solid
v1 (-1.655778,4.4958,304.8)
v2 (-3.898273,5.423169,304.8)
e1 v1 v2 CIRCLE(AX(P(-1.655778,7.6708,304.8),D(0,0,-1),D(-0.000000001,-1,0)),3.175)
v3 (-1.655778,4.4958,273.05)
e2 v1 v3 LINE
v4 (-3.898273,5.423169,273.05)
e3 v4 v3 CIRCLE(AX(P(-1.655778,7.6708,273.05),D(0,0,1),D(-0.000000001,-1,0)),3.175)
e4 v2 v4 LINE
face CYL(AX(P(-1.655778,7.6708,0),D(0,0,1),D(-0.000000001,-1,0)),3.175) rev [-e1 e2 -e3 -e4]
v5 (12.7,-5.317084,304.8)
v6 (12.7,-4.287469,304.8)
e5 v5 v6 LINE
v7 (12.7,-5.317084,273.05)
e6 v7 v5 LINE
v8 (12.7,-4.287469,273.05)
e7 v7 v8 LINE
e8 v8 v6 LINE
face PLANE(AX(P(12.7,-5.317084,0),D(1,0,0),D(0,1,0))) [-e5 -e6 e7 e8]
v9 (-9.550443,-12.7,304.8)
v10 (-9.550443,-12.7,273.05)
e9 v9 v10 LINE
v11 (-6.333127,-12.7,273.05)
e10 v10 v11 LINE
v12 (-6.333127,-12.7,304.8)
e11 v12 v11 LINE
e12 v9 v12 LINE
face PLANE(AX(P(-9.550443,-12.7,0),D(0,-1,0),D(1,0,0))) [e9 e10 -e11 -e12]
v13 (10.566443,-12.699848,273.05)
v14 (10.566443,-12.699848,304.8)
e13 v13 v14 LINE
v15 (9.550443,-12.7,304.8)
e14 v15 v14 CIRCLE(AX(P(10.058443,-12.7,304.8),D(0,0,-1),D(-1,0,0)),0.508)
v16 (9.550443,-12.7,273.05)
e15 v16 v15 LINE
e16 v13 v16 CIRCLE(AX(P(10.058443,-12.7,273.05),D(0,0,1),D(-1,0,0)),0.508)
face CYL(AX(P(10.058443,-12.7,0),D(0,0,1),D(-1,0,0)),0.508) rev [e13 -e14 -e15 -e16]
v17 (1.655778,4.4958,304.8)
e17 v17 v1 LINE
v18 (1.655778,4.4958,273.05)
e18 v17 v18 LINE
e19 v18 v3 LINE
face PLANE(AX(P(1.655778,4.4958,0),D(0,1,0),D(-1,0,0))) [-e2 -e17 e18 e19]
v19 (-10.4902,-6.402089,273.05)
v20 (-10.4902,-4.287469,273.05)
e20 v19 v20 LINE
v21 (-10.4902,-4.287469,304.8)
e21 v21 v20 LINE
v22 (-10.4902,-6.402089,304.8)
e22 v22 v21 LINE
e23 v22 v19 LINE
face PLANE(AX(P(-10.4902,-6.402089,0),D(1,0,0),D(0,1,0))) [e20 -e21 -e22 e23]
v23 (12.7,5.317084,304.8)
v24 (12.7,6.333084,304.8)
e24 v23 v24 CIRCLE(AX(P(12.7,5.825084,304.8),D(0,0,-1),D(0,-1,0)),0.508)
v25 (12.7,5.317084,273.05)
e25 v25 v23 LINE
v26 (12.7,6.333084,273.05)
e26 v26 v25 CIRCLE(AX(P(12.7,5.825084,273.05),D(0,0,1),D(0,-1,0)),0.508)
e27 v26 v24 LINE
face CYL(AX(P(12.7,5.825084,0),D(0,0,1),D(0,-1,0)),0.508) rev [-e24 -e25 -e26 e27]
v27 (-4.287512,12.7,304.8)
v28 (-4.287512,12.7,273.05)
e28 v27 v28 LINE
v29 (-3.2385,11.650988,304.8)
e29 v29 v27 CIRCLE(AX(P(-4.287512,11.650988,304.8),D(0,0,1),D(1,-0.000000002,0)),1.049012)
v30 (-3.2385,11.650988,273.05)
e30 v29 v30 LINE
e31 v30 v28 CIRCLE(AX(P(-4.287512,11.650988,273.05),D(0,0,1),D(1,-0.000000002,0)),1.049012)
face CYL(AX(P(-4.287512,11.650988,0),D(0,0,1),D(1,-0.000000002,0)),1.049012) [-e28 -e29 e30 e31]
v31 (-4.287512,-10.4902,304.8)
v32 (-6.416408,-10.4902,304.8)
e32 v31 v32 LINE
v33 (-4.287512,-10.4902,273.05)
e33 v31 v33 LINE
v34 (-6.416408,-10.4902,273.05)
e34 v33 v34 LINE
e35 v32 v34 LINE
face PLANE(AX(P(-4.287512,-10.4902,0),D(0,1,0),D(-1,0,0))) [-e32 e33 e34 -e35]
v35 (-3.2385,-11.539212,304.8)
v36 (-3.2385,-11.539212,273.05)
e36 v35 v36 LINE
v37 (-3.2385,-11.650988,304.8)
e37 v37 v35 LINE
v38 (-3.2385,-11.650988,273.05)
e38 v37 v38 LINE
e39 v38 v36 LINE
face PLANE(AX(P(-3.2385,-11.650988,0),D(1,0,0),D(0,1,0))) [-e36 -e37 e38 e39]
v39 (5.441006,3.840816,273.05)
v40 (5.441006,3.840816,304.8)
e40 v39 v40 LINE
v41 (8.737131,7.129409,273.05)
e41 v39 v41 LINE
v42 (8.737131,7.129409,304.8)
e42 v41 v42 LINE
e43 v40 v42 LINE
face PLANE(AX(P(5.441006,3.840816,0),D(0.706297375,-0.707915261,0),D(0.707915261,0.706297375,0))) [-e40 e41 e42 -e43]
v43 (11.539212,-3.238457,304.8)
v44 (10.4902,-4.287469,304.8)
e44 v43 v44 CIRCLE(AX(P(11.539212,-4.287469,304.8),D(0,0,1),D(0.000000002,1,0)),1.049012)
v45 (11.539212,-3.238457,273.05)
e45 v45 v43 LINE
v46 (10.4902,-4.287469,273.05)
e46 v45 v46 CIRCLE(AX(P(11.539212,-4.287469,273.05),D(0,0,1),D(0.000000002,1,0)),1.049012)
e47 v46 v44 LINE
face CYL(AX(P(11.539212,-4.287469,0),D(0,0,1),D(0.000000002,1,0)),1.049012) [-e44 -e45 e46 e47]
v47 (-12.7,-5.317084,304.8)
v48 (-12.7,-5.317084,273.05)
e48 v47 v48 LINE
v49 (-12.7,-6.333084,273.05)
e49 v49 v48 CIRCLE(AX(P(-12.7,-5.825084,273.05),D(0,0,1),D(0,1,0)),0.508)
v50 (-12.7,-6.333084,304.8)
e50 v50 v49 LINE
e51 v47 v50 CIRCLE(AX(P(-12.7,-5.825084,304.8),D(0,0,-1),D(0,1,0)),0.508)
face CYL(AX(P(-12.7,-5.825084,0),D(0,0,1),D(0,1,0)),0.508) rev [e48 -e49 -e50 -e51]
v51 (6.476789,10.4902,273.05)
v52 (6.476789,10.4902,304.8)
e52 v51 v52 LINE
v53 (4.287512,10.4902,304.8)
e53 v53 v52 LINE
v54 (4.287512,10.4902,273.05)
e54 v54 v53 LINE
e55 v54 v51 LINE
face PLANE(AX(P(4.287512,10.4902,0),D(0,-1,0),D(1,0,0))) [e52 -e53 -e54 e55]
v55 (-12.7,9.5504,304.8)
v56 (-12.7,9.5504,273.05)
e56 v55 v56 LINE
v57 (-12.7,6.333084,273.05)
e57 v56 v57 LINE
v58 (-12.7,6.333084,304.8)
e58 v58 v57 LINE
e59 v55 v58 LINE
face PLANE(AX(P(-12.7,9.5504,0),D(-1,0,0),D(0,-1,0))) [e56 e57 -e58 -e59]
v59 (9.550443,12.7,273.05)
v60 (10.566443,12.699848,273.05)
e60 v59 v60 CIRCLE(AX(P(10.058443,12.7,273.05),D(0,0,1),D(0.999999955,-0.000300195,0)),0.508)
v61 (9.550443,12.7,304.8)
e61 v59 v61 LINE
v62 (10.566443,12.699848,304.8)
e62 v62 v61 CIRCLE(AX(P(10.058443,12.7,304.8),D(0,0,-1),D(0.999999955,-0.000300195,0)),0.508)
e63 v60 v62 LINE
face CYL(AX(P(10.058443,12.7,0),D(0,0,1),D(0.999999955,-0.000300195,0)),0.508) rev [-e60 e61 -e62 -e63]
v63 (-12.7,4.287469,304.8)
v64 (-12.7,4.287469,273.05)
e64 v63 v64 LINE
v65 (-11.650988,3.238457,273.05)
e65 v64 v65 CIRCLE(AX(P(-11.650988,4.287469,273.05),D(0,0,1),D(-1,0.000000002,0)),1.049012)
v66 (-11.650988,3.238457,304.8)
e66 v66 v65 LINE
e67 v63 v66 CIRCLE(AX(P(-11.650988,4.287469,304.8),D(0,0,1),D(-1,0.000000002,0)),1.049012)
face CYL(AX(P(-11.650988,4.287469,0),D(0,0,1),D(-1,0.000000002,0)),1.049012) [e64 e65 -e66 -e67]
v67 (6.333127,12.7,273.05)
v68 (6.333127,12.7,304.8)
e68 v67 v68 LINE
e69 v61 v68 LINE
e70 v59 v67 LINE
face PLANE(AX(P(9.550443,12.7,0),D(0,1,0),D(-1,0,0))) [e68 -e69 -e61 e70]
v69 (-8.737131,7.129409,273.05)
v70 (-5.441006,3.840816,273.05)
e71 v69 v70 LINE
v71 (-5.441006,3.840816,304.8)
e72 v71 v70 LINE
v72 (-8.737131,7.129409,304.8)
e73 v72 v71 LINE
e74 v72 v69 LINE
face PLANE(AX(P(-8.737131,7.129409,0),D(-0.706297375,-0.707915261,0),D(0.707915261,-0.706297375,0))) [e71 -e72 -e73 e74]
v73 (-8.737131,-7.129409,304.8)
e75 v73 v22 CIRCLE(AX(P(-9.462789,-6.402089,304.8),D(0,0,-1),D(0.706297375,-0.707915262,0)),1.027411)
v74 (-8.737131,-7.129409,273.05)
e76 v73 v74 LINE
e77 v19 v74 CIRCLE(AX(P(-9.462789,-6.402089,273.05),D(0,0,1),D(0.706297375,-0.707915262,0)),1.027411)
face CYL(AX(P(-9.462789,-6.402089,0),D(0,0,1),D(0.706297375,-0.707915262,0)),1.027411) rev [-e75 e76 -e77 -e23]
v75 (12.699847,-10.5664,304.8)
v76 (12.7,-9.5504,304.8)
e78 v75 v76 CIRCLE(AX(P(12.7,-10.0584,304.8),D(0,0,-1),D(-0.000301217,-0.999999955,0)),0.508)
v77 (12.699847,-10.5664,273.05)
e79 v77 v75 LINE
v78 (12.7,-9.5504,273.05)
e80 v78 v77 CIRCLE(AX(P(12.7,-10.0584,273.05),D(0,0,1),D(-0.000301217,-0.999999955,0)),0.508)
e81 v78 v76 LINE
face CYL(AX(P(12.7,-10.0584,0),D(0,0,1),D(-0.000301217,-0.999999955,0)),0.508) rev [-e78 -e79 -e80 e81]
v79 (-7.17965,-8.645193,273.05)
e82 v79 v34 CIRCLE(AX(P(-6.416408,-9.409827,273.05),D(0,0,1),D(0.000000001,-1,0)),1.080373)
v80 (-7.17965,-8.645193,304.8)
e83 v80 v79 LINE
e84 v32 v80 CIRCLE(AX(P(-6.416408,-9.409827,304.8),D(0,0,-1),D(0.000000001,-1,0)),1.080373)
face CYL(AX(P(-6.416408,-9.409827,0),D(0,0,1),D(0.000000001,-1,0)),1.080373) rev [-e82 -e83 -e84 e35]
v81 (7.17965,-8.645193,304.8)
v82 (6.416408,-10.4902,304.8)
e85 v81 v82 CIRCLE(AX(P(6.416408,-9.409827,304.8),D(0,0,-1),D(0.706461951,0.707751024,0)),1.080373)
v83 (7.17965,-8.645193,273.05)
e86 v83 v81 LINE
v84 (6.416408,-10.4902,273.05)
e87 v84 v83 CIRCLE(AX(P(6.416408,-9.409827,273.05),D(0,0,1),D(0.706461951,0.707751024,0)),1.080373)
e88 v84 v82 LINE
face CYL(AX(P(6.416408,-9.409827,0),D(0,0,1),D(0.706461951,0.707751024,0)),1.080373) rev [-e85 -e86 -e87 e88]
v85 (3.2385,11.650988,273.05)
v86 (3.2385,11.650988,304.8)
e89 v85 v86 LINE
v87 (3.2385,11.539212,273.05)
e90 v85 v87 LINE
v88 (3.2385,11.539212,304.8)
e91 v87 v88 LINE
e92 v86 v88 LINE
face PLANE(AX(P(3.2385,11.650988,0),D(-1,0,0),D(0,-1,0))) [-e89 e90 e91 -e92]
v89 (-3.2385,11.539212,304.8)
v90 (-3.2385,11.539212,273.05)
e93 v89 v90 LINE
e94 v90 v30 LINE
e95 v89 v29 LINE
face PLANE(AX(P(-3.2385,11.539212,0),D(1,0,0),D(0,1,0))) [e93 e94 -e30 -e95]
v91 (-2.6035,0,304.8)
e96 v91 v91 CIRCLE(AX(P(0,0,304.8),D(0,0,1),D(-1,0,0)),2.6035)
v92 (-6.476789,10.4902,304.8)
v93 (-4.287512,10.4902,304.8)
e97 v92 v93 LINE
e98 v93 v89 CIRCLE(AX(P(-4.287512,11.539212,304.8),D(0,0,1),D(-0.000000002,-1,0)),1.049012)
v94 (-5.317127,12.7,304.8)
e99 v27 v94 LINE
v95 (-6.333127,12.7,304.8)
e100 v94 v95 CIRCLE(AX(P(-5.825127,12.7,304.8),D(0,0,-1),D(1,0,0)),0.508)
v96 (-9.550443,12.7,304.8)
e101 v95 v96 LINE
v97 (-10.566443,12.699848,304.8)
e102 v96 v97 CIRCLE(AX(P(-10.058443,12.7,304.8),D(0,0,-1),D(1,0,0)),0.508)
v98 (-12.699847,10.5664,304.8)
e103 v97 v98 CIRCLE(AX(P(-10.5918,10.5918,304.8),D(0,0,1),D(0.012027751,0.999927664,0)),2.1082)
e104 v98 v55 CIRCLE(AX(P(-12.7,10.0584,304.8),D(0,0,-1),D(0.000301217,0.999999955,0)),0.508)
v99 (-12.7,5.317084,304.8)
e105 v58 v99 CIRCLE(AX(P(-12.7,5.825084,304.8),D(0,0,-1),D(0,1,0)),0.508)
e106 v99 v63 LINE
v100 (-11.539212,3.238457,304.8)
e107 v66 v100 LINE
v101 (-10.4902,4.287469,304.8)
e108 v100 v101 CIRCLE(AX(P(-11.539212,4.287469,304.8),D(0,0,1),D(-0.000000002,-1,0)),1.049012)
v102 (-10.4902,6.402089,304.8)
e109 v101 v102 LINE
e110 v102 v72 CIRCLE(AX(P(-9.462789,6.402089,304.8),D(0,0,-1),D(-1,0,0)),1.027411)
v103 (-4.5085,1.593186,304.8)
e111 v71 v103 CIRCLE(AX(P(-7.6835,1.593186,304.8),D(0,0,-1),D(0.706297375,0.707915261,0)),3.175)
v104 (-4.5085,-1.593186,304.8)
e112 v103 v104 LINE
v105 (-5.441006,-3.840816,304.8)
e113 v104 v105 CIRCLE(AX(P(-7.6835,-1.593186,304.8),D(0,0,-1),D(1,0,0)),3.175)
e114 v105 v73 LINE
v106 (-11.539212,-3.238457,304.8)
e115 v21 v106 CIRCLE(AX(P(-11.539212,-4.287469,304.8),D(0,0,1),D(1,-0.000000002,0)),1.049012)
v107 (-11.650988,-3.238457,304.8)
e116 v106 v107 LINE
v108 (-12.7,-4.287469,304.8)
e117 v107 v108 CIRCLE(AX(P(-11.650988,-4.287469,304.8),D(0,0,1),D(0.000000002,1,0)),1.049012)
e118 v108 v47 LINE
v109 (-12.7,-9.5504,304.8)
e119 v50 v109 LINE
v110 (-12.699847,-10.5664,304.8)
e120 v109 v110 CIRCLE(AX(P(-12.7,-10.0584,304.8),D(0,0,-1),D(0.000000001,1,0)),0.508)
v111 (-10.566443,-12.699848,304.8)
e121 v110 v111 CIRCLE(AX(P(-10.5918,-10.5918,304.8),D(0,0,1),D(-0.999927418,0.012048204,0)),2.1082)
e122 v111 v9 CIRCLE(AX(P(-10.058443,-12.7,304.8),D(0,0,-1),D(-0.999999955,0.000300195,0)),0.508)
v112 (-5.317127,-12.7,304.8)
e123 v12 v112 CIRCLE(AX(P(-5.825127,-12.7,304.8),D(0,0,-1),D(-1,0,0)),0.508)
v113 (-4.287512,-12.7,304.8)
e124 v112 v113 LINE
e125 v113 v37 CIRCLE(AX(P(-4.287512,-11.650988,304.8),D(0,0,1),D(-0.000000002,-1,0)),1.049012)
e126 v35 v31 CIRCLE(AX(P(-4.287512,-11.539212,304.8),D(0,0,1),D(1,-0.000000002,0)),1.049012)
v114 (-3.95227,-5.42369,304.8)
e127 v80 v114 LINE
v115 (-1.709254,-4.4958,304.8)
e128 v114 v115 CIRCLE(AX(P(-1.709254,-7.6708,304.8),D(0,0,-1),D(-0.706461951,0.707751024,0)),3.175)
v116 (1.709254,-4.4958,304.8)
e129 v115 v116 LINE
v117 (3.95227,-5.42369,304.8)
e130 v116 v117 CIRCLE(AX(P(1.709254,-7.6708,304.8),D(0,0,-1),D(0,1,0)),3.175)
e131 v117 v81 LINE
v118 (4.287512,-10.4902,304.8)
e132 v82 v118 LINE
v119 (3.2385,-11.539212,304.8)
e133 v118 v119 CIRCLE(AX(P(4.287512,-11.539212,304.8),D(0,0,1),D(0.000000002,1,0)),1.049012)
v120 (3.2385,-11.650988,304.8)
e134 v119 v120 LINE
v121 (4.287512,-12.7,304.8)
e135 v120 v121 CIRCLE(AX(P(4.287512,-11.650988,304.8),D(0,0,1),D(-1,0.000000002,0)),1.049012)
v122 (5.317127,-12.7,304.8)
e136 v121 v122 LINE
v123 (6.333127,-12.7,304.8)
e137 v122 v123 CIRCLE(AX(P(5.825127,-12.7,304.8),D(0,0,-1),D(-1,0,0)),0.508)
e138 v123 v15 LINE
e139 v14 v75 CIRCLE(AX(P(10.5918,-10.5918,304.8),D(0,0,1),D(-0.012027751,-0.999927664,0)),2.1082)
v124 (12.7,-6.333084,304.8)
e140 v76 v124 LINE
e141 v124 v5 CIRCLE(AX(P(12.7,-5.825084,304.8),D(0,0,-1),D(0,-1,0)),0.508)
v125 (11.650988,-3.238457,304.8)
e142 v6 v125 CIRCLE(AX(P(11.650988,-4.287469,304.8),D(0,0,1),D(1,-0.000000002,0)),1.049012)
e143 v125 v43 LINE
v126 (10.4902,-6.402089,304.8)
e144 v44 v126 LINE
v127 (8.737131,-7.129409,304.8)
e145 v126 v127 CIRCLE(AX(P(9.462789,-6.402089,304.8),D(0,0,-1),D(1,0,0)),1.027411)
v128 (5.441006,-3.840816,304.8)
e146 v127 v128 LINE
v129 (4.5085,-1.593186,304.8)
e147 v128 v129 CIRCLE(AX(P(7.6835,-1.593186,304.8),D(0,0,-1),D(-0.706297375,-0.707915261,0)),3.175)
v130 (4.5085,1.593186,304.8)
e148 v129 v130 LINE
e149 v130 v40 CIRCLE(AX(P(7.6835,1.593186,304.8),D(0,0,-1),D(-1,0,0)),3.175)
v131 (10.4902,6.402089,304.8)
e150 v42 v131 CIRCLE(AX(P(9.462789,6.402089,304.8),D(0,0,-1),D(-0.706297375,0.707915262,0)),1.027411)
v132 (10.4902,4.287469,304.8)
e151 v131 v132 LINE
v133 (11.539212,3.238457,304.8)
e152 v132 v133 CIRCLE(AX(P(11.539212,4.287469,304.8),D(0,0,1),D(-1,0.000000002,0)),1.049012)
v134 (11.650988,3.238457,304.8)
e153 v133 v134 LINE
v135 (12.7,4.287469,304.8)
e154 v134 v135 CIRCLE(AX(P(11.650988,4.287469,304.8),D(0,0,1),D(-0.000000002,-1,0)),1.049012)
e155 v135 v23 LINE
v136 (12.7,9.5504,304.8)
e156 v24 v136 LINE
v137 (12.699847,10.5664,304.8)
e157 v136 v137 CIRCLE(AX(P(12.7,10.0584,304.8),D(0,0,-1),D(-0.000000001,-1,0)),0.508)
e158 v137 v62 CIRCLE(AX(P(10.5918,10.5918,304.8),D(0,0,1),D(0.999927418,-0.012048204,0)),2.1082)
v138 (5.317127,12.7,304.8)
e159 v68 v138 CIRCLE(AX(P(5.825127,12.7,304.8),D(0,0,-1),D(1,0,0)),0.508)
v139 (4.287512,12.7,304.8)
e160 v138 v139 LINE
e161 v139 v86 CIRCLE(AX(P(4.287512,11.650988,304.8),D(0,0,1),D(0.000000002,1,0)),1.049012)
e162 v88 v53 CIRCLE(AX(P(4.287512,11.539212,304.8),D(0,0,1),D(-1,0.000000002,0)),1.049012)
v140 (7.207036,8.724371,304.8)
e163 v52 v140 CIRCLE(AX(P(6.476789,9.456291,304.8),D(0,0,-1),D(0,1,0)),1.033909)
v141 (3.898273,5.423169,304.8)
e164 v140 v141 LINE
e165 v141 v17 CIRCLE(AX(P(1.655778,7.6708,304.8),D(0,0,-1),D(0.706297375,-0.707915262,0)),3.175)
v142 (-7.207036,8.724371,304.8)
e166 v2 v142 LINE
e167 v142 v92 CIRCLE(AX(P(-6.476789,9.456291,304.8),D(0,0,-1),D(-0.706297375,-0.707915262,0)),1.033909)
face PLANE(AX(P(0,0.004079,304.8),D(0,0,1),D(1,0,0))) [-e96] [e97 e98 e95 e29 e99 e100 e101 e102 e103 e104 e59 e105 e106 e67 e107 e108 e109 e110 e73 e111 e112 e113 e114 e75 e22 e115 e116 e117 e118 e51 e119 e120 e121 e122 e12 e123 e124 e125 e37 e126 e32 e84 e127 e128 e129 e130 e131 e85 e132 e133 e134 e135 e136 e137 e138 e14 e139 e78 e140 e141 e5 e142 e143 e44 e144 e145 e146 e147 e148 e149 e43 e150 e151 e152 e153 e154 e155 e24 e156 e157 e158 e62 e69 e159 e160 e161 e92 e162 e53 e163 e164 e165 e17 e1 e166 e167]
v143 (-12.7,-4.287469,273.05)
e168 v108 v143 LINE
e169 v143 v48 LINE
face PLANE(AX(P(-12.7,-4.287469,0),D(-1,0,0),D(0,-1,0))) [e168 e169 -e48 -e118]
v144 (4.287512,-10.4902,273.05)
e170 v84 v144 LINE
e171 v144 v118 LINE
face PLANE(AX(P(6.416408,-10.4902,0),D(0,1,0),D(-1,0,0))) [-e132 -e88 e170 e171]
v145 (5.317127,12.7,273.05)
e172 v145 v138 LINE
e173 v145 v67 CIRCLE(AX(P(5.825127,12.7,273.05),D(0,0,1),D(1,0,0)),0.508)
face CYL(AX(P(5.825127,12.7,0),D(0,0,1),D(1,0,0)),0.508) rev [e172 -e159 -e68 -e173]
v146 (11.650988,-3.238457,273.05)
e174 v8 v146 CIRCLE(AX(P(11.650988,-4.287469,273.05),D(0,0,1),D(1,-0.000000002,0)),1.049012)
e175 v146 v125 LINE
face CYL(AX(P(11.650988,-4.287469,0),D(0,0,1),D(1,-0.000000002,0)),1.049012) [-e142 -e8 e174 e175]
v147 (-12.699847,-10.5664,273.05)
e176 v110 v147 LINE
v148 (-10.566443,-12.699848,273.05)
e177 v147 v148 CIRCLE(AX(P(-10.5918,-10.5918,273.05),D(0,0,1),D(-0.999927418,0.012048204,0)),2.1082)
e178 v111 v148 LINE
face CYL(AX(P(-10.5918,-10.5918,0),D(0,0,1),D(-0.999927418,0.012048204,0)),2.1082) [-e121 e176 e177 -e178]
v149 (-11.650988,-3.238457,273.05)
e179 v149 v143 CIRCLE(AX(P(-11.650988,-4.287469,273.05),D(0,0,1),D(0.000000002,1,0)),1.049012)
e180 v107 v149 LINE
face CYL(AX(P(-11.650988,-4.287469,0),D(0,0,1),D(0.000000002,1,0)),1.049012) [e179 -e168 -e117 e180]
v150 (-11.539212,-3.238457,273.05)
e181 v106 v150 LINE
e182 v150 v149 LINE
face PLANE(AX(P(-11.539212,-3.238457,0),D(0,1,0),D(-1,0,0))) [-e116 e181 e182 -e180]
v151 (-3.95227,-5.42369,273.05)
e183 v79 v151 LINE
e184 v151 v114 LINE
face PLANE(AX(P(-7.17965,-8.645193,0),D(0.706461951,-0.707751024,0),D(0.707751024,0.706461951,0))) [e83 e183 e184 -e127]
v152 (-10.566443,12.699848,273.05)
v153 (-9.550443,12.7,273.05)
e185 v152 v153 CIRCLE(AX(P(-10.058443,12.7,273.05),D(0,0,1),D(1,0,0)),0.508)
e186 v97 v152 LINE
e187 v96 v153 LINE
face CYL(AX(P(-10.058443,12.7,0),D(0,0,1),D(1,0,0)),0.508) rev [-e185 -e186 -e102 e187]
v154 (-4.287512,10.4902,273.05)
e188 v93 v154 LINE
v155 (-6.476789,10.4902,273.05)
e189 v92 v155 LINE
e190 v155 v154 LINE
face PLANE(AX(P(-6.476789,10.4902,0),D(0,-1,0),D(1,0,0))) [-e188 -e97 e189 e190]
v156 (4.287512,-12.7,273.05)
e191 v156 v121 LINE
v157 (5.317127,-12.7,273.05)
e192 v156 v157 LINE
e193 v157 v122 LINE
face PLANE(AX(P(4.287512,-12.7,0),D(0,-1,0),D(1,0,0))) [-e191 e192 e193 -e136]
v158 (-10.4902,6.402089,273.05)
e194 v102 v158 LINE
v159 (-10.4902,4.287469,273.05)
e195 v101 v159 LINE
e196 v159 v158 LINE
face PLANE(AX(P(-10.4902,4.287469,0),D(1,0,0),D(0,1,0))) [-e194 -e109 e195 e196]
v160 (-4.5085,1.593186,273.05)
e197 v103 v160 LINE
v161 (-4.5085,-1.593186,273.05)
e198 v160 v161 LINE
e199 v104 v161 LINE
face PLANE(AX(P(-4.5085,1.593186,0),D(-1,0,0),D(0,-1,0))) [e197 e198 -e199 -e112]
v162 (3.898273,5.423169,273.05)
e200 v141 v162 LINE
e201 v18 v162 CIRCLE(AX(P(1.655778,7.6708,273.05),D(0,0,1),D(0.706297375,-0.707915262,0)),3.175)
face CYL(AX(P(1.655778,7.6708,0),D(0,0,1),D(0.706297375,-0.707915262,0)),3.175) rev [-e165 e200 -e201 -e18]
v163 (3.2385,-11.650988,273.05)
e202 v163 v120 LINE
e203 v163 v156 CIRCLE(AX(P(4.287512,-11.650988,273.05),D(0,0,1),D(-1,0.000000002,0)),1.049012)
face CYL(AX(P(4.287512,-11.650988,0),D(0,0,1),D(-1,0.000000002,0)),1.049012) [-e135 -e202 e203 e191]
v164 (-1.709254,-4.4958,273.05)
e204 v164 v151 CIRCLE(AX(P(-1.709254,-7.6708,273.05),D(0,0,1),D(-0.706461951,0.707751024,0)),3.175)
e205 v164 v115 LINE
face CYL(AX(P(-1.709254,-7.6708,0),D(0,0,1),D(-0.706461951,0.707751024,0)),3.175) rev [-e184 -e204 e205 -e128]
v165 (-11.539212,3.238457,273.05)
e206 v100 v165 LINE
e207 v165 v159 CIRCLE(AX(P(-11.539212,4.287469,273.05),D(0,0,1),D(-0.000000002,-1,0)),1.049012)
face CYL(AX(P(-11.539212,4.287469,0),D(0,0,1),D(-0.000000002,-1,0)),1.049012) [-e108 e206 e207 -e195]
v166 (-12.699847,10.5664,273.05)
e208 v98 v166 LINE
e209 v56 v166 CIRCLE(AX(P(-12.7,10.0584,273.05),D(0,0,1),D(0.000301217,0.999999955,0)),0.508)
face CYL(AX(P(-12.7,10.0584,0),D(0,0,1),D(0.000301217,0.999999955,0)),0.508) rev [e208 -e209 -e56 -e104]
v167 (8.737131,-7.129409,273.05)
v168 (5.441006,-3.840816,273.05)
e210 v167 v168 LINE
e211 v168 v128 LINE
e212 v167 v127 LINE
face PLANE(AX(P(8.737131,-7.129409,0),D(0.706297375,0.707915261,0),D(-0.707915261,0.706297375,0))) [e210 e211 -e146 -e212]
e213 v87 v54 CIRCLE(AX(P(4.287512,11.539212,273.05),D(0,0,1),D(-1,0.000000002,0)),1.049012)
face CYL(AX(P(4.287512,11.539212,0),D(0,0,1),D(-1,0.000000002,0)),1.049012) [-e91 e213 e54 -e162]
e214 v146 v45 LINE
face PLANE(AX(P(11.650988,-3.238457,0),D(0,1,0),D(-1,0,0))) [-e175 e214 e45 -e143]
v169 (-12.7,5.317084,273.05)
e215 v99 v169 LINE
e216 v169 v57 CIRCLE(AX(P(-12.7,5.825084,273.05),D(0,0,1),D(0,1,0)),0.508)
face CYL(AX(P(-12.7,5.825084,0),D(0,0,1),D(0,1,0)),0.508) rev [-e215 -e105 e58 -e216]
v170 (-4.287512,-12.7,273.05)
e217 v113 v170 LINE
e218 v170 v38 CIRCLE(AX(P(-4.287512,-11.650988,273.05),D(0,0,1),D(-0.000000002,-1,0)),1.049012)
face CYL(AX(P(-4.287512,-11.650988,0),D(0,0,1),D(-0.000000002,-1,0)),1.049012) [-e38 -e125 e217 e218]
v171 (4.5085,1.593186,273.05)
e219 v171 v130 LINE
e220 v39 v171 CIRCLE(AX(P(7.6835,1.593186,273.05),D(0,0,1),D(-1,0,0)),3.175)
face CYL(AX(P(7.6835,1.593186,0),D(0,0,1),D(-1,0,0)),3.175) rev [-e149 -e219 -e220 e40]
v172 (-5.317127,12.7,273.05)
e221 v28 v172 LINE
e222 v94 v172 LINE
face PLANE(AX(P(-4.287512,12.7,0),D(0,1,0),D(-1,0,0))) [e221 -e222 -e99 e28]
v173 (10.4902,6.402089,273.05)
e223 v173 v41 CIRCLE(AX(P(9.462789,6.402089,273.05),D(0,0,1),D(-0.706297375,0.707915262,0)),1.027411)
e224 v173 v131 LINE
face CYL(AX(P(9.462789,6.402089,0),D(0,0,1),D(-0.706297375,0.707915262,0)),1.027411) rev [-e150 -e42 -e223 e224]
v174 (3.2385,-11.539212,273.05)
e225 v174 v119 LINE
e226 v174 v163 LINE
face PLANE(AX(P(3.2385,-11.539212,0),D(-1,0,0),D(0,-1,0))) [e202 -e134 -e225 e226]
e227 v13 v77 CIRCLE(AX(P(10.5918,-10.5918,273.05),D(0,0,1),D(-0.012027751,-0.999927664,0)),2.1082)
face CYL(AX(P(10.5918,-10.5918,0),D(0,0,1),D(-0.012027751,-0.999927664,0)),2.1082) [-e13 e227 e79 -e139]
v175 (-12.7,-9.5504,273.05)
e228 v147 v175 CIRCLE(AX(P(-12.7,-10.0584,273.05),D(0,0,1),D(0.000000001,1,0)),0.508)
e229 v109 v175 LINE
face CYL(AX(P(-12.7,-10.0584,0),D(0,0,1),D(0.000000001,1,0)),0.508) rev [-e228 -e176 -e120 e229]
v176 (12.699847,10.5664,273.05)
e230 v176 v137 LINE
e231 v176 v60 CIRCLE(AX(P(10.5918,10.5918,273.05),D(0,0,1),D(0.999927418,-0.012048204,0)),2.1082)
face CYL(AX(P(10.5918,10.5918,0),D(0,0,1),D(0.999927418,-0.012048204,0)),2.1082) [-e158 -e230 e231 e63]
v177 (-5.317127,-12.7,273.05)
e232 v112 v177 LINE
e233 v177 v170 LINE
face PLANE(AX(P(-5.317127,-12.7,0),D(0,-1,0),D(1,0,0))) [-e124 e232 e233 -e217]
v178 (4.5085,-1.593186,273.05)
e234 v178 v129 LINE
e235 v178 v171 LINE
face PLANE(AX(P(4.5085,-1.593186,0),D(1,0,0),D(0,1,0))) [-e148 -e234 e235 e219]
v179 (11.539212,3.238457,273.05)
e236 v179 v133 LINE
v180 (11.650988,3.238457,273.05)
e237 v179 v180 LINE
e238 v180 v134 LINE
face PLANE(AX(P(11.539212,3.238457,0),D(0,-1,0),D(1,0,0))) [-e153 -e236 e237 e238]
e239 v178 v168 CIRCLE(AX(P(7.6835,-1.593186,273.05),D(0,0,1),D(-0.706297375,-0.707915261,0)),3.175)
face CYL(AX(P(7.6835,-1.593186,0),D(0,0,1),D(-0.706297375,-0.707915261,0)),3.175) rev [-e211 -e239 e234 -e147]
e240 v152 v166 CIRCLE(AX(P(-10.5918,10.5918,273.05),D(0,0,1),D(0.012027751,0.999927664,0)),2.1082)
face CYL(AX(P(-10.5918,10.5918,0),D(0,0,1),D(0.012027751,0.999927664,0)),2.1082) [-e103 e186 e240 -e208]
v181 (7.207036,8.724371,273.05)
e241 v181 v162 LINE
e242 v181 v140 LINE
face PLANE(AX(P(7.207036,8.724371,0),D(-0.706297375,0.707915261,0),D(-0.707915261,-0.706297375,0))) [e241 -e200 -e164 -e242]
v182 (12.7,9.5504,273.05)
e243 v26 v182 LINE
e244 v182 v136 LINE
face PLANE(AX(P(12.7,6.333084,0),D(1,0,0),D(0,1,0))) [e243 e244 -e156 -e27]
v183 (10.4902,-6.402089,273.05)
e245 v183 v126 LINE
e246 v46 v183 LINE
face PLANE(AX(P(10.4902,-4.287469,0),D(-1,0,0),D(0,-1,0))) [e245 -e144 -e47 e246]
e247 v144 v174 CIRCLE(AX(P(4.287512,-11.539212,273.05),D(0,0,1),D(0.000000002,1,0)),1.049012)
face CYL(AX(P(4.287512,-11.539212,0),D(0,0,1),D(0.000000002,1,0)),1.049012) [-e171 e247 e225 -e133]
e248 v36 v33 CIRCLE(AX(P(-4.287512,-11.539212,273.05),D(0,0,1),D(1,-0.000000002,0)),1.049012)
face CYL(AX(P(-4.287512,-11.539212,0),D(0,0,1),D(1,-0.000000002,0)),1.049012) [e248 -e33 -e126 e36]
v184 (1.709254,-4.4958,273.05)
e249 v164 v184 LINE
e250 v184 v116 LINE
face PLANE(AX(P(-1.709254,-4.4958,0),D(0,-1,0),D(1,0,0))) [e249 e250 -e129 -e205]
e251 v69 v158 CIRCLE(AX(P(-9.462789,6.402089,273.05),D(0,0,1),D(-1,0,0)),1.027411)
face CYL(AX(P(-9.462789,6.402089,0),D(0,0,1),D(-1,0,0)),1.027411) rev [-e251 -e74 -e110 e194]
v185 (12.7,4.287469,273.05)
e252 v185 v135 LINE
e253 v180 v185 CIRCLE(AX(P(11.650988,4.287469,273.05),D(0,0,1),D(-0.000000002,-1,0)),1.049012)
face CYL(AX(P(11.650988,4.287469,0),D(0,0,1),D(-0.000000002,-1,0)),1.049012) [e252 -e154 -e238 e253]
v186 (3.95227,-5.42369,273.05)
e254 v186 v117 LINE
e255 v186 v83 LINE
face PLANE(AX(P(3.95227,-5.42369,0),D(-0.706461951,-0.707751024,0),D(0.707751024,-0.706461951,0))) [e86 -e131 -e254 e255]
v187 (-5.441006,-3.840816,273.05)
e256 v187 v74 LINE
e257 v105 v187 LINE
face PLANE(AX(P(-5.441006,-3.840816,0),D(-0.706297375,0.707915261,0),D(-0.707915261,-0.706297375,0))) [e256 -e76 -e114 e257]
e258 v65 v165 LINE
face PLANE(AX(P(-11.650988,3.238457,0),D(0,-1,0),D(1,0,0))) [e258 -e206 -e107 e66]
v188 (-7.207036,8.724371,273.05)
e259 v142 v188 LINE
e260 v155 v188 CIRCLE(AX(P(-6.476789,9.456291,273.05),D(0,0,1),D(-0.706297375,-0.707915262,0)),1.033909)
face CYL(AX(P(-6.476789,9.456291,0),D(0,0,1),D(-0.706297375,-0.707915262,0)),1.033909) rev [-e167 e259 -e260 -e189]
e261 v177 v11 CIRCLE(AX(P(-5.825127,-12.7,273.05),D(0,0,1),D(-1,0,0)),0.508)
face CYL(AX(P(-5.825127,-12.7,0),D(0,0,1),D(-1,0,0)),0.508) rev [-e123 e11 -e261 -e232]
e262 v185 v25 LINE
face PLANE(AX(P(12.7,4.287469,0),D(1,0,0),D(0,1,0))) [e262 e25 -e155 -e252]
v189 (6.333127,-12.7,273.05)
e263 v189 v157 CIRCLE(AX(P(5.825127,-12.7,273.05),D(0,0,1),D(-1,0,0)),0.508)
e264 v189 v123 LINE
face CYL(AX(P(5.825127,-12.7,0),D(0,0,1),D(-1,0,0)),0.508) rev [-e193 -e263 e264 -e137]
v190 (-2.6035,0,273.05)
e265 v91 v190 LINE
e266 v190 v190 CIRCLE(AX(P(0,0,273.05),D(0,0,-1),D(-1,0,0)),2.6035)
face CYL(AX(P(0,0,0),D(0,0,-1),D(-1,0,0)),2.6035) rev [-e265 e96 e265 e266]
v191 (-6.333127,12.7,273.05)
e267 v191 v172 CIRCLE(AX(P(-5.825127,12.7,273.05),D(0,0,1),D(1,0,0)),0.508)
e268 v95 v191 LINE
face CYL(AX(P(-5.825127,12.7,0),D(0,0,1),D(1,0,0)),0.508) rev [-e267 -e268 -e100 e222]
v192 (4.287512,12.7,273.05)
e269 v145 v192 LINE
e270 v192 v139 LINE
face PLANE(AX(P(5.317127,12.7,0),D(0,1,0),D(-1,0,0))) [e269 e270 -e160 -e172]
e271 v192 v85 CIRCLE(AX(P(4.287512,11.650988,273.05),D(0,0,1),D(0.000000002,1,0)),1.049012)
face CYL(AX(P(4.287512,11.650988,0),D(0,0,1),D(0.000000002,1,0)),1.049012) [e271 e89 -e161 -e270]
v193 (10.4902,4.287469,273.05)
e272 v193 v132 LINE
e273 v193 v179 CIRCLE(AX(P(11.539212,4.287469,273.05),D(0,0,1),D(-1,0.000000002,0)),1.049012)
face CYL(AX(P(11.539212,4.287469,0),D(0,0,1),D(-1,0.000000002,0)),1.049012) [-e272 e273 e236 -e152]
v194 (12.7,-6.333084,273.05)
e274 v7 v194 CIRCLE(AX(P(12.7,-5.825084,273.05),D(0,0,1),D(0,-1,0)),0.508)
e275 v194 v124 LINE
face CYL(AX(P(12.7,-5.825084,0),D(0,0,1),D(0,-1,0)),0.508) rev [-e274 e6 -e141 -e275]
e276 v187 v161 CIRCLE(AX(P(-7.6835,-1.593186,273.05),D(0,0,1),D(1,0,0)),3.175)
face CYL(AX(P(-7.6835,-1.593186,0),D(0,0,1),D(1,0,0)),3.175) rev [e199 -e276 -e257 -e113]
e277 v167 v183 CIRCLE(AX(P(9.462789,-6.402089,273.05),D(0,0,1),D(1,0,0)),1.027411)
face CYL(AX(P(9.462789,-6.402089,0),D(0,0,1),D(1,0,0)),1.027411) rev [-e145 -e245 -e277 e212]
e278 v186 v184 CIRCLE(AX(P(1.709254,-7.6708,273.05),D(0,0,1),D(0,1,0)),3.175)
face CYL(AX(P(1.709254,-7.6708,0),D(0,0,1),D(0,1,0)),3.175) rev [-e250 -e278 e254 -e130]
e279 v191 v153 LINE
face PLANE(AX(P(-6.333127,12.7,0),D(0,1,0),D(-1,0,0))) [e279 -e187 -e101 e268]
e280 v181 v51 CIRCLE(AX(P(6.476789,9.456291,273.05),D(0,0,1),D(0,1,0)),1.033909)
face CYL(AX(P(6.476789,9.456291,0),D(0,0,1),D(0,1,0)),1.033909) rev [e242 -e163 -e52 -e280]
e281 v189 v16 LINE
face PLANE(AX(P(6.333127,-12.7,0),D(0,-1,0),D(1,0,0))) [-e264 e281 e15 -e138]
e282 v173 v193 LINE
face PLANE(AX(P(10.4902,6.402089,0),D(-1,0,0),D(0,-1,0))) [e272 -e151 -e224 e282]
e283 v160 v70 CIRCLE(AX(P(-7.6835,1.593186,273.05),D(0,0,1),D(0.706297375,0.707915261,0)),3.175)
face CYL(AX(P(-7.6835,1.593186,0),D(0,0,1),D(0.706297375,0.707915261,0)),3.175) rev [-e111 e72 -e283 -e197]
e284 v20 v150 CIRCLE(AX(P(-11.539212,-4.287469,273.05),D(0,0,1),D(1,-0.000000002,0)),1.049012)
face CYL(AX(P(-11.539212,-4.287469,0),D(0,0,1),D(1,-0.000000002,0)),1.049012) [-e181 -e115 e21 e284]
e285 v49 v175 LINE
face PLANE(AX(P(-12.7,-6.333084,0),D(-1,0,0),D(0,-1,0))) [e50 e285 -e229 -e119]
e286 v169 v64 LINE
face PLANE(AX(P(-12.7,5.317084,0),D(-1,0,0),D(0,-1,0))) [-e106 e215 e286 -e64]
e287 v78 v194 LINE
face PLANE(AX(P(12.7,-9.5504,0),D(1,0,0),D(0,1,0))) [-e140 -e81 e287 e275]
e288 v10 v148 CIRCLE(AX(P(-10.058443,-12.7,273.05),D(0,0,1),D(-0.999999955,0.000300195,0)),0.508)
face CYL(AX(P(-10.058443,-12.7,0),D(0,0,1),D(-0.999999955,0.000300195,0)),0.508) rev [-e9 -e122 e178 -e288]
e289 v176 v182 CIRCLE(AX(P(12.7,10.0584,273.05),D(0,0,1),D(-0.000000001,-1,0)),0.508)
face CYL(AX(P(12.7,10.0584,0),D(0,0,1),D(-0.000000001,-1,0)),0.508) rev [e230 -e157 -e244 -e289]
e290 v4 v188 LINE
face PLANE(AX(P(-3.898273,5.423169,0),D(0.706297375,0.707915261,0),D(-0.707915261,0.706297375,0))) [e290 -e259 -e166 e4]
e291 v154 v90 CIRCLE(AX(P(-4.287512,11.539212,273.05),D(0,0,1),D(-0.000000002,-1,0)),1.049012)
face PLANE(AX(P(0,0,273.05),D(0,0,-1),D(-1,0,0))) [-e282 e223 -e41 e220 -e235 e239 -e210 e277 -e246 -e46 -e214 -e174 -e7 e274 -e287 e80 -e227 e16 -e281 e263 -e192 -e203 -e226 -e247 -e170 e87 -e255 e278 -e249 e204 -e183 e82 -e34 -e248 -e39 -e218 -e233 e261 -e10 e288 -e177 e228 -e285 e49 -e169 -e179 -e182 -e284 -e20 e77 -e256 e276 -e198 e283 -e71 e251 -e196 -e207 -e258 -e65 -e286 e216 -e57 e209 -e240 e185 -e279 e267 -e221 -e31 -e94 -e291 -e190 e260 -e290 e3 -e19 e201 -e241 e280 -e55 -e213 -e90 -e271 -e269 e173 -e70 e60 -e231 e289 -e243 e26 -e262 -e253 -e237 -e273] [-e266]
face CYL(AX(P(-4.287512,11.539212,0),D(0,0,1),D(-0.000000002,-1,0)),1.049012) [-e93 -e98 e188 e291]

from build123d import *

# Parameters (mm, degrees)
SKETCH1_R           = 2.6035
BOSS_EXTRUDE1_DEPTH = 304.8
SKETCH2_R           = 24.282664684
CUT_EXTRUDE1_DEPTH  = 577.85


with BuildPart() as part:
    # Sketch1 → Boss-Extrude1 (new, symmetric)
    with BuildSketch(Plane.XY):
        with BuildLine():
            Line((-7.179650497, -8.645192506), (-3.952270251, -5.423690499))
            ThreePointArc((-3.952270251, -5.423690499), (-2.922936451, -4.736929036), (-1.709253557, -4.4958))
            Line((-1.709253557, -4.4958), (1.709253557, -4.4958))
            ThreePointArc((1.709253557, -4.4958), (2.922936451, -4.736929036), (3.952270251, -5.423690499))
            Line((3.952270251, -5.423690499), (7.179650497, -8.645192506))
            ThreePointArc((7.179650497, -8.645192506), (7.41473083, -9.822813117), (6.416408329, -10.4902))
            Line((6.416408329, -10.4902), (4.287512407, -10.4902))
            ThreePointArc((4.287512407, -10.4902), (3.54574862, -10.79744862), (3.2385, -11.539212407))
            Line((3.2385, -11.539212407), (3.2385, -11.650987593))
            ThreePointArc((3.2385, -11.650987593), (3.54574862, -12.39275138), (4.287512407, -12.7))
            Line((4.287512407, -12.7), (5.317126718, -12.7))
            ThreePointArc((5.317126718, -12.7), (5.825126718, -12.192), (6.333126718, -12.7))
            Line((6.333126718, -12.7), (9.550443118, -12.7))
            ThreePointArc((9.550443118, -12.7), (10.058366869, -12.192000006), (10.566443095, -12.699847501))
            ThreePointArc((10.566443095, -12.699847501), (12.082537762, -12.08250727), (12.699846982, -10.566399977))
            ThreePointArc((12.699846982, -10.566399977), (12.192000006, -10.058323491), (12.7, -9.5504))
            Line((12.7, -9.5504), (12.7, -6.3330836))
            ThreePointArc((12.7, -6.3330836), (12.192, -5.8250836), (12.7, -5.3170836))
            Line((12.7, -5.3170836), (12.7, -4.287469289))
            ThreePointArc((12.7, -4.287469289), (12.39275138, -3.545705502), (11.650987593, -3.238456882))
            Line((11.650987593, -3.238456882), (11.539212407, -3.238456882))
            ThreePointArc((11.539212407, -3.238456882), (10.79744862, -3.545705502), (10.4902, -4.287469289))
            Line((10.4902, -4.287469289), (10.4902, -6.402089023))
            ThreePointArc((10.4902, -6.402089023), (9.856505071, -7.351067942), (8.737131347, -7.129408934))
            Line((8.737131347, -7.129408934), (5.441005833, -3.840816462))
            ThreePointArc((5.441005833, -3.840816462), (4.750877967, -2.809883091), (4.5085, -1.593185507))
            Line((4.5085, -1.593185507), (4.5085, 1.593185507))
            ThreePointArc((4.5085, 1.593185507), (4.750877967, 2.809883091), (5.441005833, 3.840816462))
            Line((5.441005833, 3.840816462), (8.737131347, 7.129408934))
            ThreePointArc((8.737131347, 7.129408934), (9.856505071, 7.351067942), (10.4902, 6.402089023))
            Line((10.4902, 6.402089023), (10.4902, 4.287469289))
            ThreePointArc((10.4902, 4.287469289), (10.79744862, 3.545705502), (11.539212407, 3.238456882))
            Line((11.539212407, 3.238456882), (11.650987593, 3.238456882))
            ThreePointArc((11.650987593, 3.238456882), (12.39275138, 3.545705502), (12.7, 4.287469289))
            Line((12.7, 4.287469289), (12.7, 5.3170836))
            ThreePointArc((12.7, 5.3170836), (12.192, 5.8250836), (12.7, 6.3330836))
            Line((12.7, 6.3330836), (12.7, 9.5504))
            ThreePointArc((12.7, 9.5504), (12.192000006, 10.058323491), (12.699846982, 10.566399977))
            ThreePointArc((12.699846982, 10.566399977), (12.082537762, 12.08250727), (10.566443095, 12.699847501))
            ThreePointArc((10.566443095, 12.699847501), (10.058366869, 12.192000006), (9.550443118, 12.7))
            Line((9.550443118, 12.7), (6.333126718, 12.7))
            ThreePointArc((6.333126718, 12.7), (5.825126718, 12.192), (5.317126718, 12.7))
            Line((5.317126718, 12.7), (4.287512407, 12.7))
            ThreePointArc((4.287512407, 12.7), (3.54574862, 12.39275138), (3.2385, 11.650987593))
            Line((3.2385, 11.650987593), (3.2385, 11.539212407))
            ThreePointArc((3.2385, 11.539212407), (3.54574862, 10.79744862), (4.287512407, 10.4902))
            Line((4.287512407, 10.4902), (6.476788598, 10.4902))
            ThreePointArc((6.476788598, 10.4902), (7.432222385, 9.85140422), (7.207036008, 8.724370562))
            Line((7.207036008, 8.724370562), (3.898272566, 5.423169045))
            ThreePointArc((3.898272566, 5.423169045), (2.869120213, 4.736787962), (1.655778399, 4.4958))
            Line((1.655778399, 4.4958), (-1.655778399, 4.4958))
            ThreePointArc((-1.655778399, 4.4958), (-2.869120213, 4.736787962), (-3.898272566, 5.423169045))
            Line((-3.898272566, 5.423169045), (-7.207036008, 8.724370562))
            ThreePointArc((-7.207036008, 8.724370562), (-7.432222385, 9.85140422), (-6.476788598, 10.4902))
            Line((-6.476788598, 10.4902), (-4.287512407, 10.4902))
            ThreePointArc((-4.287512407, 10.4902), (-3.54574862, 10.79744862), (-3.2385, 11.539212407))
            Line((-3.2385, 11.539212407), (-3.2385, 11.650987593))
            ThreePointArc((-3.2385, 11.650987593), (-3.54574862, 12.39275138), (-4.287512407, 12.7))
            Line((-4.287512407, 12.7), (-5.317126718, 12.7))
            ThreePointArc((-5.317126718, 12.7), (-5.825126718, 12.192), (-6.333126718, 12.7))
            Line((-6.333126718, 12.7), (-9.550443118, 12.7))
            ThreePointArc((-9.550443118, 12.7), (-10.058366869, 12.192000006), (-10.566443095, 12.699847501))
            ThreePointArc((-10.566443095, 12.699847501), (-12.082537762, 12.08250727), (-12.699846982, 10.566399977))
            ThreePointArc((-12.699846982, 10.566399977), (-12.192000006, 10.058323491), (-12.7, 9.5504))
            Line((-12.7, 9.5504), (-12.7, 6.3330836))
            ThreePointArc((-12.7, 6.3330836), (-12.192, 5.8250836), (-12.7, 5.3170836))
            Line((-12.7, 5.3170836), (-12.7, 4.287469289))
            ThreePointArc((-12.7, 4.287469289), (-12.39275138, 3.545705502), (-11.650987593, 3.238456882))
            Line((-11.650987593, 3.238456882), (-11.539212407, 3.238456882))
            ThreePointArc((-11.539212407, 3.238456882), (-10.79744862, 3.545705502), (-10.4902, 4.287469289))
            Line((-10.4902, 4.287469289), (-10.4902, 6.402089023))
            ThreePointArc((-10.4902, 6.402089023), (-9.856505071, 7.351067942), (-8.737131347, 7.129408934))
            Line((-8.737131347, 7.129408934), (-5.441005833, 3.840816462))
            ThreePointArc((-5.441005833, 3.840816462), (-4.750877967, 2.809883091), (-4.5085, 1.593185507))
            Line((-4.5085, 1.593185507), (-4.5085, -1.593185507))
            ThreePointArc((-4.5085, -1.593185507), (-4.750877967, -2.809883091), (-5.441005833, -3.840816462))
            Line((-5.441005833, -3.840816462), (-8.737131347, -7.129408934))
            ThreePointArc((-8.737131347, -7.129408934), (-9.856505071, -7.351067942), (-10.4902, -6.402089023))
            Line((-10.4902, -6.402089023), (-10.4902, -4.287469289))
            ThreePointArc((-10.4902, -4.287469289), (-10.79744862, -3.545705502), (-11.539212407, -3.238456882))
            Line((-11.539212407, -3.238456882), (-11.650987593, -3.238456882))
            ThreePointArc((-11.650987593, -3.238456882), (-12.39275138, -3.545705502), (-12.7, -4.287469289))
            Line((-12.7, -4.287469289), (-12.7, -5.3170836))
            ThreePointArc((-12.7, -5.3170836), (-12.192, -5.8250836), (-12.7, -6.3330836))
            Line((-12.7, -6.3330836), (-12.7, -9.5504))
            ThreePointArc((-12.7, -9.5504), (-12.192000006, -10.058323491), (-12.699846982, -10.566399977))
            ThreePointArc((-12.699846982, -10.566399977), (-12.082537762, -12.08250727), (-10.566443095, -12.699847501))
            ThreePointArc((-10.566443095, -12.699847501), (-10.058366869, -12.192000006), (-9.550443118, -12.7))
            Line((-9.550443118, -12.7), (-6.333126718, -12.7))
            ThreePointArc((-6.333126718, -12.7), (-5.825126718, -12.192), (-5.317126718, -12.7))
            Line((-5.317126718, -12.7), (-4.287512407, -12.7))
            ThreePointArc((-4.287512407, -12.7), (-3.54574862, -12.39275138), (-3.2385, -11.650987593))
            Line((-3.2385, -11.650987593), (-3.2385, -11.539212407))
            ThreePointArc((-3.2385, -11.539212407), (-3.54574862, -10.79744862), (-4.287512407, -10.4902))
            Line((-4.287512407, -10.4902), (-6.416408329, -10.4902))
            ThreePointArc((-6.416408329, -10.4902), (-7.41473083, -9.822813117), (-7.179650497, -8.645192506))
        make_face()
        with Locations(Location((0, 0, 0), (0, 0, 180))):
            Circle(SKETCH1_R, mode=Mode.SUBTRACT)
    extrude(amount=BOSS_EXTRUDE1_DEPTH, both=True)

    # Sketch2 → Cut-Extrude1 (cut)
    with BuildSketch(Plane(origin=(0, 0, -304.8), x_dir=(-1, 0, 0), z_dir=(0, 0, -1))):
        Circle(SKETCH2_R)
    extrude(amount=-CUT_EXTRUDE1_DEPTH, mode=Mode.SUBTRACT)


solid = part.part
